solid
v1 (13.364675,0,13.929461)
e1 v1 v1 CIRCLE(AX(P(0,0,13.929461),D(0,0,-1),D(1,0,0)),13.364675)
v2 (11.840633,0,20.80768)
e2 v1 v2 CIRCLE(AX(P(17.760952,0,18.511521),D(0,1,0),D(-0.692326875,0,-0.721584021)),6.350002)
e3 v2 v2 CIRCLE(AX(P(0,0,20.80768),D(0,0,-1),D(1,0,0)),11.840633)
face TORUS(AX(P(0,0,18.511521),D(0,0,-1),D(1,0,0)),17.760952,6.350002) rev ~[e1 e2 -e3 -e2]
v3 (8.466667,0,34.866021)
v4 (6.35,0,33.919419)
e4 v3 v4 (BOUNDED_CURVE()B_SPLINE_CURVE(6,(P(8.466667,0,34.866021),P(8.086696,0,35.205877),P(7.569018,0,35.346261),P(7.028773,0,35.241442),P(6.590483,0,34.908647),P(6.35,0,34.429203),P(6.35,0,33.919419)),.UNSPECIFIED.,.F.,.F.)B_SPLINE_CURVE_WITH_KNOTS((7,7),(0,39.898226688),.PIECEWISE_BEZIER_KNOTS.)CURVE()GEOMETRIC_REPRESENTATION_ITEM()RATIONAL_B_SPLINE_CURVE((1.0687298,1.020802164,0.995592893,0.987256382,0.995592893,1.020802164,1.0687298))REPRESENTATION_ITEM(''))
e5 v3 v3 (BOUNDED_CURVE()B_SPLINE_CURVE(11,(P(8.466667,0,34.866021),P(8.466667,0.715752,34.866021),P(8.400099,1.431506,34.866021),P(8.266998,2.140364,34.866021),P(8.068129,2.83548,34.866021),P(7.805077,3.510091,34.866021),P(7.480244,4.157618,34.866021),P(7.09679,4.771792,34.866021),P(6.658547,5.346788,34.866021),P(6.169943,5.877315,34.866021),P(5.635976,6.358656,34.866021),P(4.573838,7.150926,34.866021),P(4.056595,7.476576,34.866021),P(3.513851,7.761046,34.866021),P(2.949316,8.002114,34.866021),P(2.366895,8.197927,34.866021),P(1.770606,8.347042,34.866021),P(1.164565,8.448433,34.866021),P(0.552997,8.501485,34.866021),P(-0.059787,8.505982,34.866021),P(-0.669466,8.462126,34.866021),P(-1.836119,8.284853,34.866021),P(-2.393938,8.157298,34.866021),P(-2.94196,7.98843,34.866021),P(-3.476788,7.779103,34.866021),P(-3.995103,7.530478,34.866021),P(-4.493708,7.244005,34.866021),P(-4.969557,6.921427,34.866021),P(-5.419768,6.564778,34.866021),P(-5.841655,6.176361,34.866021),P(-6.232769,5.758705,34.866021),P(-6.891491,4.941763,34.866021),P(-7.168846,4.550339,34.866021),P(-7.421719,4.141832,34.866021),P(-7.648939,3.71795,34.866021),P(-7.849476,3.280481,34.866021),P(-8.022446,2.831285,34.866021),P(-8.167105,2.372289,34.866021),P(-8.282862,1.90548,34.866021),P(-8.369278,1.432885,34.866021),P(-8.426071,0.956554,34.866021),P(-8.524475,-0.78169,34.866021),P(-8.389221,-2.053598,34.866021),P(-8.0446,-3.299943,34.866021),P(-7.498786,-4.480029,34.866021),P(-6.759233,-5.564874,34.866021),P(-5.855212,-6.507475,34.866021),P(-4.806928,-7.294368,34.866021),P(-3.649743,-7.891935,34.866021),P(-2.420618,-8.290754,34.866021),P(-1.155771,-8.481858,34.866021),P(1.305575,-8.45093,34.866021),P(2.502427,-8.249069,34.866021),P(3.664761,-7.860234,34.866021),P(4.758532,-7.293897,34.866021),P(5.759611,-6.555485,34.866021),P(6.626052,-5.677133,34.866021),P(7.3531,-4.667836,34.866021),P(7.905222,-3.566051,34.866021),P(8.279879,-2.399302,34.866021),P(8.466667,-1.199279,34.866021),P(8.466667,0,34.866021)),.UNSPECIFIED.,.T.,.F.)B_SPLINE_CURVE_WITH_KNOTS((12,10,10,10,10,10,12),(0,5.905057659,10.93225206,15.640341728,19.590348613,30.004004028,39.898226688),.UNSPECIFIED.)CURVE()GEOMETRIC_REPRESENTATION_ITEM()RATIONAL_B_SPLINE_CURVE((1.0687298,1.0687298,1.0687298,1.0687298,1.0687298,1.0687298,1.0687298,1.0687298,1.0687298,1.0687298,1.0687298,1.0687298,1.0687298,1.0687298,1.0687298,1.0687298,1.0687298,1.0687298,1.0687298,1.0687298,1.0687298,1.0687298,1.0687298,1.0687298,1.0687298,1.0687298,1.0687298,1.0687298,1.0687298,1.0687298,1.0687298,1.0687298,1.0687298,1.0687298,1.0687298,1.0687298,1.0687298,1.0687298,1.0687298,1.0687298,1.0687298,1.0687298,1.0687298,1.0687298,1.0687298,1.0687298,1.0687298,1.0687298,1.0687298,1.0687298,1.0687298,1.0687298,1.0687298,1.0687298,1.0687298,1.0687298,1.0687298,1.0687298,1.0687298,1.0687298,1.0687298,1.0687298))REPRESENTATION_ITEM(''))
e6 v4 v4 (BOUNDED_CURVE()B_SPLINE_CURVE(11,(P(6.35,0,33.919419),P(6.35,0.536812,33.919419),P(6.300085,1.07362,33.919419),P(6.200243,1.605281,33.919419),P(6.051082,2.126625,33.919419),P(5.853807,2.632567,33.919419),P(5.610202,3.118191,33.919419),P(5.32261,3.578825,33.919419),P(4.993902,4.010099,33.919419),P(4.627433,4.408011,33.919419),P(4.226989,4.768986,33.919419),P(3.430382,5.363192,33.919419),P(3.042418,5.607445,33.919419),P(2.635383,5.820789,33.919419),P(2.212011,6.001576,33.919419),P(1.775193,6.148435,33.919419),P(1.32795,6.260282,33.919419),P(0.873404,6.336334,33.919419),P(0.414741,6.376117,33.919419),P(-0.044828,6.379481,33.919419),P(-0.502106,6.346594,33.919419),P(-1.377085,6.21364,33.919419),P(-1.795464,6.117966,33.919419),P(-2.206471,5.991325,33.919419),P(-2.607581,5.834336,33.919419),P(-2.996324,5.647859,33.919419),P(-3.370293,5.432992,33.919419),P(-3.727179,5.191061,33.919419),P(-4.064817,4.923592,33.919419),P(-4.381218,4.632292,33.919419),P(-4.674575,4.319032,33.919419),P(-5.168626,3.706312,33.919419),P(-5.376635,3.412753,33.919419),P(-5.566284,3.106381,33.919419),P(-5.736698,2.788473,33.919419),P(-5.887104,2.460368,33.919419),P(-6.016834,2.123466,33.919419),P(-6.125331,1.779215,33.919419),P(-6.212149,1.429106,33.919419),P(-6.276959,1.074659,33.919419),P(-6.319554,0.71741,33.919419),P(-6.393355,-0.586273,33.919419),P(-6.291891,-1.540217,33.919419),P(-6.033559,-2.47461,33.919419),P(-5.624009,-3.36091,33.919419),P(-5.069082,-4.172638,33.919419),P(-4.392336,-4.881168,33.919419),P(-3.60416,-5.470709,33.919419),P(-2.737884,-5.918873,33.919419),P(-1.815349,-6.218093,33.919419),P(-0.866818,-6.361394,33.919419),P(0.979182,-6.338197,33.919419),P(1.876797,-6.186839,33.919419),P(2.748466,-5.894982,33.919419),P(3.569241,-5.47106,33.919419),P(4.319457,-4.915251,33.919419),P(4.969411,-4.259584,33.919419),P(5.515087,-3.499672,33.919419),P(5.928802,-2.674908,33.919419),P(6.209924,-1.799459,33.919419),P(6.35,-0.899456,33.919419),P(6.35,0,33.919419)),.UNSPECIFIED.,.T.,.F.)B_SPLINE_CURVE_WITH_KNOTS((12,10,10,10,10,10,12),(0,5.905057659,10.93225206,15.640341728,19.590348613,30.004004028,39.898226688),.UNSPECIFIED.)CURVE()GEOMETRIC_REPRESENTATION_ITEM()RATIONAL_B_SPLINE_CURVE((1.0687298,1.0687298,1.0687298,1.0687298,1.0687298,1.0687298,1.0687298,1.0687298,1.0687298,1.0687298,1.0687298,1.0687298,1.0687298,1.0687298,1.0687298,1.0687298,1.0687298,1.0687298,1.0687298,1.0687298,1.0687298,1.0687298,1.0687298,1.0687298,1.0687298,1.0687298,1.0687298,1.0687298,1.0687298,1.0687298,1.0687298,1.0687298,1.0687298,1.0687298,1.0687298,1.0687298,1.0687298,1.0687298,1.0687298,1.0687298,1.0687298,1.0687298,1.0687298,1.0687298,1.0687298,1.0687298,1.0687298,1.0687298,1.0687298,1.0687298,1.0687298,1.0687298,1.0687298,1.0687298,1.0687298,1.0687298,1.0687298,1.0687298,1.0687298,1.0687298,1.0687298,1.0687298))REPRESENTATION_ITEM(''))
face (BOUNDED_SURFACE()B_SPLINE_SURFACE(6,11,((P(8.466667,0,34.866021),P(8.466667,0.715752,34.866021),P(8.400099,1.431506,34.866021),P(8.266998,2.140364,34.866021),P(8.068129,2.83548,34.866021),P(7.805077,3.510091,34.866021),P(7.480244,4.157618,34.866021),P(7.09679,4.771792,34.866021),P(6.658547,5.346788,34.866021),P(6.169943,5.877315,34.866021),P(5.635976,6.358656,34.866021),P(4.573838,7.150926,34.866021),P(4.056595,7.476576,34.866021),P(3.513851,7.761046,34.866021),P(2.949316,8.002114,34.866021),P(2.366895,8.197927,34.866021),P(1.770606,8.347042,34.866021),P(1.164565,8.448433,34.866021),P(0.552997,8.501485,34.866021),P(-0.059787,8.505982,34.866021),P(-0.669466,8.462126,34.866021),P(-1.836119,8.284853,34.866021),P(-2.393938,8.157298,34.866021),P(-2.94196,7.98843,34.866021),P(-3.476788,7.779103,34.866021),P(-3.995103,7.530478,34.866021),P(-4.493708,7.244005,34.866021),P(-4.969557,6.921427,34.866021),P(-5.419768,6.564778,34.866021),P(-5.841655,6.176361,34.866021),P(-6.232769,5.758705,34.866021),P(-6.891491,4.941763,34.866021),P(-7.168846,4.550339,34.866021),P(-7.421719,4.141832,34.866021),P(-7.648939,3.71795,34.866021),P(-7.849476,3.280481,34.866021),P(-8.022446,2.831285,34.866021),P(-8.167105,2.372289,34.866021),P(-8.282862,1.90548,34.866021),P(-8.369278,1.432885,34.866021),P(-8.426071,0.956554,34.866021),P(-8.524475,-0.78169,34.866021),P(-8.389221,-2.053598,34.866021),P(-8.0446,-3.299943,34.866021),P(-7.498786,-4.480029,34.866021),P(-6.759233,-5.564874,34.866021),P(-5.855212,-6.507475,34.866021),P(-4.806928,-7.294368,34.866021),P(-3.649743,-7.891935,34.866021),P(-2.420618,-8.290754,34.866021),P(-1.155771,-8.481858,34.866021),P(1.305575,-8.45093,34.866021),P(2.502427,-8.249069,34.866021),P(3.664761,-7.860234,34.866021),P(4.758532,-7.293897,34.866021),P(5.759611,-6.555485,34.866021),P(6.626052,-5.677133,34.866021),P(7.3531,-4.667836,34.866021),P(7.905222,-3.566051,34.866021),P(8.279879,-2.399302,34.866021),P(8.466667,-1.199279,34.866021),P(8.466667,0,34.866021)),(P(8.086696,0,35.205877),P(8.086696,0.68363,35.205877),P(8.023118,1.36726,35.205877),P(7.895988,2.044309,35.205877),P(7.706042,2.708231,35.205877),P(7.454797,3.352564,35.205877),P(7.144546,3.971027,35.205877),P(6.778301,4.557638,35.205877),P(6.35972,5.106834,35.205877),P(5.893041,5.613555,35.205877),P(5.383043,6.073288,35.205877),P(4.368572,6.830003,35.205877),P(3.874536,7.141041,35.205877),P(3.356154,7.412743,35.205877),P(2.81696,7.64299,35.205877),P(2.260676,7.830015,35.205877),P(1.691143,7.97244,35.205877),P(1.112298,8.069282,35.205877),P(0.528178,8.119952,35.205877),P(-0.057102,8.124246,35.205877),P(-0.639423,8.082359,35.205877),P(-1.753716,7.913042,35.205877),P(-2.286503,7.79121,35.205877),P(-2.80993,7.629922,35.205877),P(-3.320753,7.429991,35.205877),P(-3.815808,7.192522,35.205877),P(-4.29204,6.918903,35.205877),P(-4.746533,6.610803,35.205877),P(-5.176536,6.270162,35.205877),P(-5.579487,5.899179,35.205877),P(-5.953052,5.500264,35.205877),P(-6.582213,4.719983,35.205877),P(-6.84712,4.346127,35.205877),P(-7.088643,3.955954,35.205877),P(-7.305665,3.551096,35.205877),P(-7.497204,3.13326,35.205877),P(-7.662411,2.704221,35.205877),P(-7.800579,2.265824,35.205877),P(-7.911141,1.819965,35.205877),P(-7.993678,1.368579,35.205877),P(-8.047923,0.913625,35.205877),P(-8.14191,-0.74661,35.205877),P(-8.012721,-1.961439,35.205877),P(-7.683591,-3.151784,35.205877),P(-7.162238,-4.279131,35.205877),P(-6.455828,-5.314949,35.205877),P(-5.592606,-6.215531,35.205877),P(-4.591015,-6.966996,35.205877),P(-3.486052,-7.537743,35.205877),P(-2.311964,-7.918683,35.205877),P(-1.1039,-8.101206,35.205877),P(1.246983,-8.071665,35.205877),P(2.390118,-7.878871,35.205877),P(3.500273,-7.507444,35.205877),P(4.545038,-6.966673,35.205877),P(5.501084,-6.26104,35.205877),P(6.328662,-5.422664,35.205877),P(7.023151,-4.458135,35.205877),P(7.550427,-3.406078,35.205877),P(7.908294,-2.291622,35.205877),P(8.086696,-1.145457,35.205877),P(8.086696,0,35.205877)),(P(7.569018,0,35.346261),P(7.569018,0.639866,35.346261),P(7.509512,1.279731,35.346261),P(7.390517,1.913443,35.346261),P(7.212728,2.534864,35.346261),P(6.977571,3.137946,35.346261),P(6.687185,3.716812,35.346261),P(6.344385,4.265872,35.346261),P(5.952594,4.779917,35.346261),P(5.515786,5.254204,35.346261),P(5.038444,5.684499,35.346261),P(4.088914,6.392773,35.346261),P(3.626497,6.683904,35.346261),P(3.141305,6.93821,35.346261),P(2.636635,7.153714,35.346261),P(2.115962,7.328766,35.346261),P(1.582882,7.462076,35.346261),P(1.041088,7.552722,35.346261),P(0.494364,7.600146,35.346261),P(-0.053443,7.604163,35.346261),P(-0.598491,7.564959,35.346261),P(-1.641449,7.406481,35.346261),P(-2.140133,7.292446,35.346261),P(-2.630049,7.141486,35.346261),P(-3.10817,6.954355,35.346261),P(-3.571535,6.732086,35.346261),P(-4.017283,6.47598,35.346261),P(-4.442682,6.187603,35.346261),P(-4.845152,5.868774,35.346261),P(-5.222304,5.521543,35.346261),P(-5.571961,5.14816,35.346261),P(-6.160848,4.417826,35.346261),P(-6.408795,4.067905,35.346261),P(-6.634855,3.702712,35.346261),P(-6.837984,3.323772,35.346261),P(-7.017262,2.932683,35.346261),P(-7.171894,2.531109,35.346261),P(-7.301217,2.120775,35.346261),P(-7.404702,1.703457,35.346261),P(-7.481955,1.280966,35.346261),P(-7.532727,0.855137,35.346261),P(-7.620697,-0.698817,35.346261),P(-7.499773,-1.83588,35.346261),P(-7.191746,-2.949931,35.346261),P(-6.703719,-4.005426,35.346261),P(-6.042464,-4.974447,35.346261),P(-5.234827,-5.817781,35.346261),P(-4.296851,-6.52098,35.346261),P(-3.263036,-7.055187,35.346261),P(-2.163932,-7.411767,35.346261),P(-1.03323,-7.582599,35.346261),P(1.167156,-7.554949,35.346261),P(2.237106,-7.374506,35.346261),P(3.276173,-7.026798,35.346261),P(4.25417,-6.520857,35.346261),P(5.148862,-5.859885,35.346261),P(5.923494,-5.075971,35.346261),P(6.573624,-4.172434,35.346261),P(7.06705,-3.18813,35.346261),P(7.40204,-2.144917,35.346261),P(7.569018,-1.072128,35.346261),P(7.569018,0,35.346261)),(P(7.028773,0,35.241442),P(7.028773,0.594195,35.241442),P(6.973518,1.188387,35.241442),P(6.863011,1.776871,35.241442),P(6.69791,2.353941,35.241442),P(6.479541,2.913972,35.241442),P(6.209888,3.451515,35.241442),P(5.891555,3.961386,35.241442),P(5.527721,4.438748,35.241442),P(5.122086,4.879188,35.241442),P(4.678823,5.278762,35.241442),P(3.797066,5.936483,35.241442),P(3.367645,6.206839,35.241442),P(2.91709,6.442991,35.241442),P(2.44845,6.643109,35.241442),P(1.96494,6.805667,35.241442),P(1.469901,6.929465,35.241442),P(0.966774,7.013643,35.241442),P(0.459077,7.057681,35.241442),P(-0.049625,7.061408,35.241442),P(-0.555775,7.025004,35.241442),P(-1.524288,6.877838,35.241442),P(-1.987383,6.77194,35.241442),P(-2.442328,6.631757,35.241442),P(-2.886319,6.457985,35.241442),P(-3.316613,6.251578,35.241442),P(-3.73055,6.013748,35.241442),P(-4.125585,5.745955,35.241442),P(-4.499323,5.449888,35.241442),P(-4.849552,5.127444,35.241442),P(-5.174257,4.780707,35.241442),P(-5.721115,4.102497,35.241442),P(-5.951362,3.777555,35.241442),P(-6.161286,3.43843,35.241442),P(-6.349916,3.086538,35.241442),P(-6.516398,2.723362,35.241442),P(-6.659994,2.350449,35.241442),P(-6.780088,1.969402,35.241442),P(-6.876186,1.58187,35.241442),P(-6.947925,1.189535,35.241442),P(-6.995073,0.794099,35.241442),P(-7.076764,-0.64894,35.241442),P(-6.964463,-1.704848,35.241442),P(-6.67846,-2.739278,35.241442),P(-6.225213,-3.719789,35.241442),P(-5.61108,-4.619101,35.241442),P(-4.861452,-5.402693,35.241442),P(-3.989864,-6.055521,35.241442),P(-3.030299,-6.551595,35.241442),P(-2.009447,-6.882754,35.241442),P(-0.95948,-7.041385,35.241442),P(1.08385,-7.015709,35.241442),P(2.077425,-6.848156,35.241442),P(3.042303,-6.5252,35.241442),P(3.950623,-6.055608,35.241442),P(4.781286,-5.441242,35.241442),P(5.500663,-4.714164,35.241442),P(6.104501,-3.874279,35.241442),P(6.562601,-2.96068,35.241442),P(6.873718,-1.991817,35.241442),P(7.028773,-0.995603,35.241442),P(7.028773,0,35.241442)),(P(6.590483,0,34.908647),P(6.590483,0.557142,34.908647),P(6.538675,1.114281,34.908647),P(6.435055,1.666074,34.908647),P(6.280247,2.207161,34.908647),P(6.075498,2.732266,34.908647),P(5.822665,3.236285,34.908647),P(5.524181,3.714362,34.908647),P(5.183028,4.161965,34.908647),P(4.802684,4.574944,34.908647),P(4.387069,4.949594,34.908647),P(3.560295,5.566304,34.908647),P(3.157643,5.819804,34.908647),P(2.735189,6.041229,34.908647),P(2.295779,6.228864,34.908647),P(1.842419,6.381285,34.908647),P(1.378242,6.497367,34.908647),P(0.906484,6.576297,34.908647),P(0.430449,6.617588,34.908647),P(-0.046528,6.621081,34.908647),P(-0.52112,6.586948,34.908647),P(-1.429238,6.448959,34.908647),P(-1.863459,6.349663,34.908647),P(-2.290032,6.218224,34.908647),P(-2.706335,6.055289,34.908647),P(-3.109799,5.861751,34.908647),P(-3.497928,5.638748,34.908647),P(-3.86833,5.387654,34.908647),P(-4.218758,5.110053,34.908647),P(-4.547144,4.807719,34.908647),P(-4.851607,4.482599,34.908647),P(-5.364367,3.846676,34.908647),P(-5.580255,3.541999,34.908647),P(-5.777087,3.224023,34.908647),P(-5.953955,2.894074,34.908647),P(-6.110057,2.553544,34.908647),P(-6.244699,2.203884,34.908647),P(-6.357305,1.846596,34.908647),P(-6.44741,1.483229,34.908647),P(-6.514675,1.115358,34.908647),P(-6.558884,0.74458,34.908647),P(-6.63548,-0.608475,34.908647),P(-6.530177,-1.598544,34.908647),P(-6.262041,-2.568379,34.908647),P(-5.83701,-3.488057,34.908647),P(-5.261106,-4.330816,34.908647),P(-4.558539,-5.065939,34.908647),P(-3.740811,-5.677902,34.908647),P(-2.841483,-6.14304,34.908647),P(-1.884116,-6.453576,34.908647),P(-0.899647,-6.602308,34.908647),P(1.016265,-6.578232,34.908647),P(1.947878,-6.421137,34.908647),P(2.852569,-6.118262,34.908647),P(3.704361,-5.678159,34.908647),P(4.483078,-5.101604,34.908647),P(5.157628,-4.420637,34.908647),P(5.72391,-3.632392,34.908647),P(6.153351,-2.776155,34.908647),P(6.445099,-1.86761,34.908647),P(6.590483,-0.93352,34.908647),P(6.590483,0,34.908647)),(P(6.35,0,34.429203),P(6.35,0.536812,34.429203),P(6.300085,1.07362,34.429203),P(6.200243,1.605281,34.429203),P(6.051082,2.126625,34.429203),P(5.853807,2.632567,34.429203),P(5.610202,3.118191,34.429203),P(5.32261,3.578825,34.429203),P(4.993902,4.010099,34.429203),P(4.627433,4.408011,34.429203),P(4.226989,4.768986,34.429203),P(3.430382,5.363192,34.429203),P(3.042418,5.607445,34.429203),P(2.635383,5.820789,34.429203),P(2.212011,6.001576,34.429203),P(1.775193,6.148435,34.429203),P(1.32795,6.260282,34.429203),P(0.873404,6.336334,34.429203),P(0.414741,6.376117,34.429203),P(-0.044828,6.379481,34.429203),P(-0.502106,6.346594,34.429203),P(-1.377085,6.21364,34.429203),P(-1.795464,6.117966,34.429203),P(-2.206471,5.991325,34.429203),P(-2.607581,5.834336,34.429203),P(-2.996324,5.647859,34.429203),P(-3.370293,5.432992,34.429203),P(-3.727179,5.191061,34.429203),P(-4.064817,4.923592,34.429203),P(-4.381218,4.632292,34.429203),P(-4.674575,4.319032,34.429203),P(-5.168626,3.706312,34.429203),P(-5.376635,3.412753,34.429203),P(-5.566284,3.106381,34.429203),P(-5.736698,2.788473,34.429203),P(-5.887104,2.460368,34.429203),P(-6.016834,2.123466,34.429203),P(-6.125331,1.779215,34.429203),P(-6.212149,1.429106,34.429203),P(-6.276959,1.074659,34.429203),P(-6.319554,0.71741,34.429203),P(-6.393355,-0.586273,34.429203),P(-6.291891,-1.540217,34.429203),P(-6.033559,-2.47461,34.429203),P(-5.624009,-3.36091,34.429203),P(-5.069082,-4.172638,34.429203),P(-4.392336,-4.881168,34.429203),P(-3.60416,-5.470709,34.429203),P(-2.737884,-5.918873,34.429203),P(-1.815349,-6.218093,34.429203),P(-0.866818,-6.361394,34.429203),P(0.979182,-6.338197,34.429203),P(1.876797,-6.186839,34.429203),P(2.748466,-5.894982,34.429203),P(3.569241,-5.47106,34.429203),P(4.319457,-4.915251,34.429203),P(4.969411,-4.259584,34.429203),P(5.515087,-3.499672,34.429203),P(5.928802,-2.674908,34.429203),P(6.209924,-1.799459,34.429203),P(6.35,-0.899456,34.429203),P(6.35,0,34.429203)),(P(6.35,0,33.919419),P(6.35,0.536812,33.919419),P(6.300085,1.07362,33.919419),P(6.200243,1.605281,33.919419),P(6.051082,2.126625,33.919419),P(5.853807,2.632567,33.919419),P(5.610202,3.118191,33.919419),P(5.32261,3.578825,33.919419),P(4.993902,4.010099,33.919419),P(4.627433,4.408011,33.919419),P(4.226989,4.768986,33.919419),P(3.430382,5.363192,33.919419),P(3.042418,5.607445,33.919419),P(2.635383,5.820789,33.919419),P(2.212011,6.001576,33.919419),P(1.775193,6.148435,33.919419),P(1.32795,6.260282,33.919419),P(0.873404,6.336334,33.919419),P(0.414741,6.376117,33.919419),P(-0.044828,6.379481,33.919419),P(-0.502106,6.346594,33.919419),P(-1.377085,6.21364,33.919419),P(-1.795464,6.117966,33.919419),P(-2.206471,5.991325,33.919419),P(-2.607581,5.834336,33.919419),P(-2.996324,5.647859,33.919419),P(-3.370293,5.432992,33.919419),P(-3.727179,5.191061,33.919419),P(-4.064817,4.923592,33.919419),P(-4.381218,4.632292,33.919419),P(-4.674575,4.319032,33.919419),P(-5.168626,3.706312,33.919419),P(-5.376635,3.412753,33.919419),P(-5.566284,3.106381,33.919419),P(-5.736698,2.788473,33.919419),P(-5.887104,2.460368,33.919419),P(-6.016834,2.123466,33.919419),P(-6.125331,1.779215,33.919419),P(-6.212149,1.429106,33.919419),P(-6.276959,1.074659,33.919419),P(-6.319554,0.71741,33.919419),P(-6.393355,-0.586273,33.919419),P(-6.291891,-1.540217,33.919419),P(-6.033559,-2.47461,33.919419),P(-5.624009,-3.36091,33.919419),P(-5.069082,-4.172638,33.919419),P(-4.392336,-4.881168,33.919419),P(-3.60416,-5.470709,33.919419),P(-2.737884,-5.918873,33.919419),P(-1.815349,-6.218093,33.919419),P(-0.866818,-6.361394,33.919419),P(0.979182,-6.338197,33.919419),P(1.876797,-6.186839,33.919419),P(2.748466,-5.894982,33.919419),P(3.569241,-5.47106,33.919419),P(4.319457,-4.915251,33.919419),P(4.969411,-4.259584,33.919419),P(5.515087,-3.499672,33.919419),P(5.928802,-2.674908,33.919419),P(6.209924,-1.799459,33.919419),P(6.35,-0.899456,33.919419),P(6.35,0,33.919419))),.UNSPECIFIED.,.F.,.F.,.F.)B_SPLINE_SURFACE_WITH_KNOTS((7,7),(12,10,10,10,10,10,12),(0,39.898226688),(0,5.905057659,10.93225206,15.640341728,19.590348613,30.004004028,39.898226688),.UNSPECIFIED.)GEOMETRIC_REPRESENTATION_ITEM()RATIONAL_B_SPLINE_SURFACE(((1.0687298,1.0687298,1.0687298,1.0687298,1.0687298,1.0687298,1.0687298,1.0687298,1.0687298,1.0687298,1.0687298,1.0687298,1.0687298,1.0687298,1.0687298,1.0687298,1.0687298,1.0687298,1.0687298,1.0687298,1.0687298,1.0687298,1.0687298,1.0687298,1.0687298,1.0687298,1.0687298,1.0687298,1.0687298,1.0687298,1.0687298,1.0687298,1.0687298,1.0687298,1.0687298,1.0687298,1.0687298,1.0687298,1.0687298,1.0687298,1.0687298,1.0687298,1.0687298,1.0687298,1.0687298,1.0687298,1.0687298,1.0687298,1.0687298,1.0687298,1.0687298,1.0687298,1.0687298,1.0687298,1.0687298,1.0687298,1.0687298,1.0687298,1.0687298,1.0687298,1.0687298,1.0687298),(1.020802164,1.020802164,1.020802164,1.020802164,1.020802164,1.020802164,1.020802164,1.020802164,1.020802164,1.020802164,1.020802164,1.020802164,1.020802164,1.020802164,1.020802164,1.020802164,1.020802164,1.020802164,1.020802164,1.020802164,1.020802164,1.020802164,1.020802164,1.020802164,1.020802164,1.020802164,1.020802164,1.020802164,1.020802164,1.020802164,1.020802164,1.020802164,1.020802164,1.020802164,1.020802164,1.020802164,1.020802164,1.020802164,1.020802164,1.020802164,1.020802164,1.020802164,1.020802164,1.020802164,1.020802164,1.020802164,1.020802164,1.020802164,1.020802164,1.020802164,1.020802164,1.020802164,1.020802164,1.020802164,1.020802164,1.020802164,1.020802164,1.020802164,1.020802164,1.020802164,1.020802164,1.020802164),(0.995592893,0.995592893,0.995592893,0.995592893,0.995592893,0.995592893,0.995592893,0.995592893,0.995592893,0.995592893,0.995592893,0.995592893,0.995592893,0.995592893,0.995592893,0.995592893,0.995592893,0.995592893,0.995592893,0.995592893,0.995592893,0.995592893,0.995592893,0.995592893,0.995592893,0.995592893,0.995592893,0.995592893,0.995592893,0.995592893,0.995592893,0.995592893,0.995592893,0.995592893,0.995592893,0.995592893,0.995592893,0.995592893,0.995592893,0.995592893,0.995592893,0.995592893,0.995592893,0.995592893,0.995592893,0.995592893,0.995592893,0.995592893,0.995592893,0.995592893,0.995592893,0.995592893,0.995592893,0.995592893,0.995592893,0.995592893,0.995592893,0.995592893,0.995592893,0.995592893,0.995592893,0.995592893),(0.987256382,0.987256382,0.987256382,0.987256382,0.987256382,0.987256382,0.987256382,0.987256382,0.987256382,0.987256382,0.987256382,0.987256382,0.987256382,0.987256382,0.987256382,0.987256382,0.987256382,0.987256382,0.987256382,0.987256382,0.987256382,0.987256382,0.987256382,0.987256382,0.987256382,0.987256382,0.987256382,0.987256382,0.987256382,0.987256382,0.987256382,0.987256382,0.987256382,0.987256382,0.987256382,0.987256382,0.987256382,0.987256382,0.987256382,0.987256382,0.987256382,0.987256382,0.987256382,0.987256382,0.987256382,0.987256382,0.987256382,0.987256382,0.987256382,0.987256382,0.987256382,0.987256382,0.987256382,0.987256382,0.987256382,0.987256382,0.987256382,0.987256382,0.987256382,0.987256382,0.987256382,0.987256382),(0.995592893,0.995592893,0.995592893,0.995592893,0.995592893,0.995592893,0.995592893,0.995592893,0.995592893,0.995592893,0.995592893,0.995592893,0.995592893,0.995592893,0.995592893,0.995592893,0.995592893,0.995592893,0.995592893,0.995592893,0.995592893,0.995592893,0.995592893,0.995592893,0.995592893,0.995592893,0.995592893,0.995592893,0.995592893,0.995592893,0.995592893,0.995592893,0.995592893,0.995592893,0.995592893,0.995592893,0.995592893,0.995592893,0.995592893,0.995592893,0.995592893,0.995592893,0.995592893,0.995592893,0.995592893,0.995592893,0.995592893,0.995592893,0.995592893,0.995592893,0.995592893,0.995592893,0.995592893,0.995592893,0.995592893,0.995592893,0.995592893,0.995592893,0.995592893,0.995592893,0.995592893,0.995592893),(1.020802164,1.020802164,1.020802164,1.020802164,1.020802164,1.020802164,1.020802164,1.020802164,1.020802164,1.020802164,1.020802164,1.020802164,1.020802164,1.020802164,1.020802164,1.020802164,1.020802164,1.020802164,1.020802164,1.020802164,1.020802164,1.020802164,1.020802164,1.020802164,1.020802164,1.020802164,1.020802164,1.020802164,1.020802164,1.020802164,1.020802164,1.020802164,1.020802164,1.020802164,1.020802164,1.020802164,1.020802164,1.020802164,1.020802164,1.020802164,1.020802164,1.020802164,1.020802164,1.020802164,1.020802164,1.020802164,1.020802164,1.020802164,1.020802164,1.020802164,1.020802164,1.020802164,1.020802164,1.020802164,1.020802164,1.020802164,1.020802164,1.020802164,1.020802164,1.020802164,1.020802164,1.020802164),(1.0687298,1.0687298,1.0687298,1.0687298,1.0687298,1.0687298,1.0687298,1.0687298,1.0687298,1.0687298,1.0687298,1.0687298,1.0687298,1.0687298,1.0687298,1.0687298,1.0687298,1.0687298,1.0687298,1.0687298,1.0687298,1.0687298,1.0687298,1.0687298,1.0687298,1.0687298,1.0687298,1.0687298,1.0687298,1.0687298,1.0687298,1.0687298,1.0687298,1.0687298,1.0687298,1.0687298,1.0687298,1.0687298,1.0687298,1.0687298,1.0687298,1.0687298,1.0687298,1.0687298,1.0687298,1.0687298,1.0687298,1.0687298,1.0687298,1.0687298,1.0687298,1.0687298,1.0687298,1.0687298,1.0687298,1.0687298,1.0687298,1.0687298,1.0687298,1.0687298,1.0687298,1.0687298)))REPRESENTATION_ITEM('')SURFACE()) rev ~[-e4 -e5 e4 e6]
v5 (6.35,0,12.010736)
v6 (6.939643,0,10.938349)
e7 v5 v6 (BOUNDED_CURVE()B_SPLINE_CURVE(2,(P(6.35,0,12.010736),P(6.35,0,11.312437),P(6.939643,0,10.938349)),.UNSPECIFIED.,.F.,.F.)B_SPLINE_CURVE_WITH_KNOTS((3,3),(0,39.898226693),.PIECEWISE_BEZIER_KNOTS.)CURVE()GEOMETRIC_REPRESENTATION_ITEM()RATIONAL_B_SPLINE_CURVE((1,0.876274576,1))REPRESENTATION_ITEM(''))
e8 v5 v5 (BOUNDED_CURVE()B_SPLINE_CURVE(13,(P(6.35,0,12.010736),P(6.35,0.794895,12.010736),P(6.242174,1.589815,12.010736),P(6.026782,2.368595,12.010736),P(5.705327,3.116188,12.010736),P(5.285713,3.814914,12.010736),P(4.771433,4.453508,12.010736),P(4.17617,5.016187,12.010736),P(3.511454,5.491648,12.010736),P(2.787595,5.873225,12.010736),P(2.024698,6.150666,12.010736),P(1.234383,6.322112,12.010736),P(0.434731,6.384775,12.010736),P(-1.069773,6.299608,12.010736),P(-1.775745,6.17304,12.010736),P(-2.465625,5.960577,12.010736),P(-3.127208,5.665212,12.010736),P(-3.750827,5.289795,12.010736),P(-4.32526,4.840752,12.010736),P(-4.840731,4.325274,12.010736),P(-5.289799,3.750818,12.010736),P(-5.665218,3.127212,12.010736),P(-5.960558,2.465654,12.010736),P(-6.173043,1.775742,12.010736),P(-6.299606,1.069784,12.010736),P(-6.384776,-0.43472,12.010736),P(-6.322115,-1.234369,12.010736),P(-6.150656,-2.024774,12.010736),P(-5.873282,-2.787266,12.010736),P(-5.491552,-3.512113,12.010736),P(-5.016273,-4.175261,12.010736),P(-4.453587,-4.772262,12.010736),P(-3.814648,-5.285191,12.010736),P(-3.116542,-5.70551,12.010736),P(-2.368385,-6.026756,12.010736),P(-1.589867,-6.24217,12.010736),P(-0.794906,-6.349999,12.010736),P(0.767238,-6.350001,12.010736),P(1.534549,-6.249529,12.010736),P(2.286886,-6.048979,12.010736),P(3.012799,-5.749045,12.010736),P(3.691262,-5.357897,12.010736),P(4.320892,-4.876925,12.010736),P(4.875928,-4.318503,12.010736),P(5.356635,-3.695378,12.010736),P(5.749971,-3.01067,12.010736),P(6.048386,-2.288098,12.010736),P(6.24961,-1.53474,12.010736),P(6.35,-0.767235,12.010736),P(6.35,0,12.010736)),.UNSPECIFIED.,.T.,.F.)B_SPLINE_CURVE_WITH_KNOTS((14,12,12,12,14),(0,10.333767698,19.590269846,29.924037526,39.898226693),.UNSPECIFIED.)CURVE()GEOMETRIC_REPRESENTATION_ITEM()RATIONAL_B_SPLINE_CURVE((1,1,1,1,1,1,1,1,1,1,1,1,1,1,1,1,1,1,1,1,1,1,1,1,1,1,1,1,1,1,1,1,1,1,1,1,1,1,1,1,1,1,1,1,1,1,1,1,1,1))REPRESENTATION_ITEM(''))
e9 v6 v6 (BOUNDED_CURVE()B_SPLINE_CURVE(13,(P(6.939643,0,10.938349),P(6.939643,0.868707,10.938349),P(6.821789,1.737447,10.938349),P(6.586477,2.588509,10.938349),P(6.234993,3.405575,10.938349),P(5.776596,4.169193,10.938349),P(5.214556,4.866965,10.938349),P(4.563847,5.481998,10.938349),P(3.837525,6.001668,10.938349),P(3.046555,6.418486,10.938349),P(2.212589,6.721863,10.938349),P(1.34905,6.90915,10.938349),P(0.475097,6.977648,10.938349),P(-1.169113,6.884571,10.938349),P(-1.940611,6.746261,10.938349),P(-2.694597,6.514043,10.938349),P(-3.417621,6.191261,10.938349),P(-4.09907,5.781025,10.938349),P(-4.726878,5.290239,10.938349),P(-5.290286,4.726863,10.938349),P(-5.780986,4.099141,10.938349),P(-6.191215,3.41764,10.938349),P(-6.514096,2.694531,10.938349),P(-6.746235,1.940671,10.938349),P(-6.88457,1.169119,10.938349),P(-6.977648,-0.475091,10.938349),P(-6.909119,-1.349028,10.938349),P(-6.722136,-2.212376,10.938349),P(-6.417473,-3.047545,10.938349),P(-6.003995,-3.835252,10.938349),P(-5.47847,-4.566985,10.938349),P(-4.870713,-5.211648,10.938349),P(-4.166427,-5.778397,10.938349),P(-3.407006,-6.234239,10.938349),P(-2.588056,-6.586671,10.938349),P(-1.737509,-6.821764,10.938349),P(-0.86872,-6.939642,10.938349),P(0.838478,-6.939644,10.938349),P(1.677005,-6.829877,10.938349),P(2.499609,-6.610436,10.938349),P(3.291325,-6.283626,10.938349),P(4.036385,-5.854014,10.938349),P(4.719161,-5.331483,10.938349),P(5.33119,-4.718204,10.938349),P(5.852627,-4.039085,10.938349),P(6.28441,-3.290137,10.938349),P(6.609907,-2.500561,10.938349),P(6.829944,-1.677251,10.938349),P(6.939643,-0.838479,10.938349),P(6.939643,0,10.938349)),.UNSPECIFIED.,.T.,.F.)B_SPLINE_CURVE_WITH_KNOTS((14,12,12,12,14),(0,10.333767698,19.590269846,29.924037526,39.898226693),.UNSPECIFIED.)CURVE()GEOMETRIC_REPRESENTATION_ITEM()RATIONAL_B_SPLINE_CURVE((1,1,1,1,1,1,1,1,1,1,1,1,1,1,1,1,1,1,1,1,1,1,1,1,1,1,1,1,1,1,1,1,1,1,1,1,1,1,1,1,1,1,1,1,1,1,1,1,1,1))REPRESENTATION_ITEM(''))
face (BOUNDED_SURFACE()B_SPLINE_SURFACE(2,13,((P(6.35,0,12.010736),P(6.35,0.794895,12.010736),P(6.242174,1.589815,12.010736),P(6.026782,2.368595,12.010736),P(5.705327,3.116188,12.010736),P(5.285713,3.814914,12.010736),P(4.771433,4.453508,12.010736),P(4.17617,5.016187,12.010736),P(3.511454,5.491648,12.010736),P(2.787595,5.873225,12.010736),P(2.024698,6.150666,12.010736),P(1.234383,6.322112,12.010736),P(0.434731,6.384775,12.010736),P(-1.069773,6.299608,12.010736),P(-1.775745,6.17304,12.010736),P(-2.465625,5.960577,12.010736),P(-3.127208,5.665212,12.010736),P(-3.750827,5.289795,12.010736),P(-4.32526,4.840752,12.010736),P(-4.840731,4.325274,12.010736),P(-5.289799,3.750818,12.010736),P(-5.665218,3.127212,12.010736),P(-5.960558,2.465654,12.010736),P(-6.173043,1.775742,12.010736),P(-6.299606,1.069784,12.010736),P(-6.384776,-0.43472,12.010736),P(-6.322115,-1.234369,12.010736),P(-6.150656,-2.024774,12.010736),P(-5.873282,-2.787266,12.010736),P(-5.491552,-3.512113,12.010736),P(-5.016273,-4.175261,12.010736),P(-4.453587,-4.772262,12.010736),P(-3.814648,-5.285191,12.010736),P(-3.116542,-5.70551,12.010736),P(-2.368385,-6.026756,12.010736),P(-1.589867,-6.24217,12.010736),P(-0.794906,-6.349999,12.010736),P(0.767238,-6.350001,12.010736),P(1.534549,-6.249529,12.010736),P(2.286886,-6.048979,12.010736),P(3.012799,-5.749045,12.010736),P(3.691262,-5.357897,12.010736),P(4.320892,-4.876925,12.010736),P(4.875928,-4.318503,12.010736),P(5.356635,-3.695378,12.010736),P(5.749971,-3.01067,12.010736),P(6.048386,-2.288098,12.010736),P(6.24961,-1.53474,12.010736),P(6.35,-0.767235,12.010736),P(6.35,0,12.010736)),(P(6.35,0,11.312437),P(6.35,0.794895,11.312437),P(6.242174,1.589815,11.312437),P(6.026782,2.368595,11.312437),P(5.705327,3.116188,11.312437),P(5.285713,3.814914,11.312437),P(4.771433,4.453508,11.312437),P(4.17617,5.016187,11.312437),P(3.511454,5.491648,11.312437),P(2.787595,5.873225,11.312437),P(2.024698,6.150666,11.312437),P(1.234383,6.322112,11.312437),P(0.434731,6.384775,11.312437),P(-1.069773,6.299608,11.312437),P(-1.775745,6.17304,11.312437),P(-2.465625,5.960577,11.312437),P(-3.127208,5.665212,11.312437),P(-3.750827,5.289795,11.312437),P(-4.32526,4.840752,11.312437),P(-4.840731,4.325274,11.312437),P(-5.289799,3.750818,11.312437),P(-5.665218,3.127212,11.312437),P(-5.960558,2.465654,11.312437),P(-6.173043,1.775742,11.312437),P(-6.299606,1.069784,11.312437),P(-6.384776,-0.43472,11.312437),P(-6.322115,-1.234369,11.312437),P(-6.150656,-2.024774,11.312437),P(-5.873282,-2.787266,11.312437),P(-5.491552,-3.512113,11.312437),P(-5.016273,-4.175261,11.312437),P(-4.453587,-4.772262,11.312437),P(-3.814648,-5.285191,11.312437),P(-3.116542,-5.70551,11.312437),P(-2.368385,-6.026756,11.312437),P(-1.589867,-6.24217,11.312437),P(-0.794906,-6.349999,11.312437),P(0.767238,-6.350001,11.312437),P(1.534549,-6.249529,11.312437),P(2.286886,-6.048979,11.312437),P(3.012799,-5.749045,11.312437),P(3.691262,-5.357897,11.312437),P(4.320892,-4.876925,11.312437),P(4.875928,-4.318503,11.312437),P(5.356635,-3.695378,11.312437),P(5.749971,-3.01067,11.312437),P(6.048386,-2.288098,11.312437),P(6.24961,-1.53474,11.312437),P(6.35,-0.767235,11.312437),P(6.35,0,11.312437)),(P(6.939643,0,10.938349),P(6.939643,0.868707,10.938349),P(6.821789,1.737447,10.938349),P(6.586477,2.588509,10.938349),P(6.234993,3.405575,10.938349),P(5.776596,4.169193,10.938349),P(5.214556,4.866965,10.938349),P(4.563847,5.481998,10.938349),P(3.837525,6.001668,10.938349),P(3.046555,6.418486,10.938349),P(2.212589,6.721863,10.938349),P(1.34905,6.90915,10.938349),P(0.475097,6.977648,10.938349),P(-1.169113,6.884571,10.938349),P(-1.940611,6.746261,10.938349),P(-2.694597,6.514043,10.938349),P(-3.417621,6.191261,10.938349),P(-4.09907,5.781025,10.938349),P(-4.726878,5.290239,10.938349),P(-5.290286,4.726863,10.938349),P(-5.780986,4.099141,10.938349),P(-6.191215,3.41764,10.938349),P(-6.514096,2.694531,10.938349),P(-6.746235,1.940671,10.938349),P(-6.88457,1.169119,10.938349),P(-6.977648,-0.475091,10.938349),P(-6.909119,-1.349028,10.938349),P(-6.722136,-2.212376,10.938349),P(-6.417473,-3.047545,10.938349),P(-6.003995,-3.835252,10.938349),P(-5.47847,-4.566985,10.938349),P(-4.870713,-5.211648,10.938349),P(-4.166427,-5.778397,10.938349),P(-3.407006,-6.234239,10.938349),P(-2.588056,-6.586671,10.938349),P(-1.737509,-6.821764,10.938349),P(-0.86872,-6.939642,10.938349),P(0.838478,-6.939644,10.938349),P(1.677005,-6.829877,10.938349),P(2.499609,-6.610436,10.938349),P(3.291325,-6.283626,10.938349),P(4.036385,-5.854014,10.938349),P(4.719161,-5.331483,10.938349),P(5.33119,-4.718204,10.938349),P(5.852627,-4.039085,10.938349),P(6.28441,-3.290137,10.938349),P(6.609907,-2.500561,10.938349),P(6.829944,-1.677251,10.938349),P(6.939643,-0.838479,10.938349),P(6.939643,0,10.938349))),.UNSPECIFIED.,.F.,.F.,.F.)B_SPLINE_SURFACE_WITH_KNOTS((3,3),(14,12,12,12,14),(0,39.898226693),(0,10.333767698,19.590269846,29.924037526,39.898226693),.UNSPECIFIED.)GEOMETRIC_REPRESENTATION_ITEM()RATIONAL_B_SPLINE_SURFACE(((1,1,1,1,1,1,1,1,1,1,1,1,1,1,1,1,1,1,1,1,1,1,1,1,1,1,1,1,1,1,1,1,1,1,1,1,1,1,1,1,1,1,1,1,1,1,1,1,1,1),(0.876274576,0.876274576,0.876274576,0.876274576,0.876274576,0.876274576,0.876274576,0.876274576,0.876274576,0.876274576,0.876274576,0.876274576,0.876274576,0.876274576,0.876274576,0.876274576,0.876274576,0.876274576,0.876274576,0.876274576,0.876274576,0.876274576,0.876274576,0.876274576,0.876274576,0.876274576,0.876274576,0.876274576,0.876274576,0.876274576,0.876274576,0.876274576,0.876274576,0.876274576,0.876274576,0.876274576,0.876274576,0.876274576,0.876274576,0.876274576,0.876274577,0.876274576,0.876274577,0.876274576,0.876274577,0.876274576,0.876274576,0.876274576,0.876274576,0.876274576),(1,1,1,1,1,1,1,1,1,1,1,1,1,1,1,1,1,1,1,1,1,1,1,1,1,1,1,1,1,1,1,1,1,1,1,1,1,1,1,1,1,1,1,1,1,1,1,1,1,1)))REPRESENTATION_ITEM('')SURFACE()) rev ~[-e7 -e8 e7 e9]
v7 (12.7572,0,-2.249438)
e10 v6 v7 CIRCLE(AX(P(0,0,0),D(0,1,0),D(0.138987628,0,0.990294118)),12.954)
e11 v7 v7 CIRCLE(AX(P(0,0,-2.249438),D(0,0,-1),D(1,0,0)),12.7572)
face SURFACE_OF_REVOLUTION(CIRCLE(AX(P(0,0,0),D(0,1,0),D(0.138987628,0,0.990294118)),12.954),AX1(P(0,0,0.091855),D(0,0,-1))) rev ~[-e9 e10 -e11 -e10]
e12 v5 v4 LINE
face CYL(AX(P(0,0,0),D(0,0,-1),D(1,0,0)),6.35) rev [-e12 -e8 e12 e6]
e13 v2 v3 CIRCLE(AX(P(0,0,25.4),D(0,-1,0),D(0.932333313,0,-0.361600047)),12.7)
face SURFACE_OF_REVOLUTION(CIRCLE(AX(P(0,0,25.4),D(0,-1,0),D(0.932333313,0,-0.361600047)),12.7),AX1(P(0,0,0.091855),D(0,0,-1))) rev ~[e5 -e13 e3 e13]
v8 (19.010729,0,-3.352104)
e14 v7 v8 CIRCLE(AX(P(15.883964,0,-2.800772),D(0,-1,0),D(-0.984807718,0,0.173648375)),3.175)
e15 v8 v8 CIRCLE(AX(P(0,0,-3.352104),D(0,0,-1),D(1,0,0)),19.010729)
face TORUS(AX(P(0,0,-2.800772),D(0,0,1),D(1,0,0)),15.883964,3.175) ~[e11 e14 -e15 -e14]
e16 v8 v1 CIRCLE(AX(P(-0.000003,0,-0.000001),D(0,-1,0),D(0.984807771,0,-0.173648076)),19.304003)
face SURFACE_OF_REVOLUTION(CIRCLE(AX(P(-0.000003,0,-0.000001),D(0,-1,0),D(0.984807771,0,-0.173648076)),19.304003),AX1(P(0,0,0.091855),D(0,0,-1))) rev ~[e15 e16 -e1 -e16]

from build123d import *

# Parameters (mm, degrees)
F2_R     = 6.35
F3_DEPTH = 38.101
F4_R     = 1.27


with BuildPart() as f1:
    # F0 (on Front) → F1 (revolve)
    with BuildSketch(Plane.XZ):
        with BuildLine():
            ThreePointArc((0, 19.304), (4.856384, 18.683146), (9.400387, 16.86052))
            ThreePointArc((9.400387, 16.86052), (10.802326, 18.721696), (11.840633, 20.80768))
            ThreePointArc((11.840633, 20.80768), (10.478847, 32.575219), (0, 38.1))
            Line((0, 38.1), (0, 19.304))
        make_face()
        with BuildLine():
            ThreePointArc((1.800446, 12.82827), (10.479293, 7.615152), (12.7572, -2.249438))
            ThreePointArc((12.7572, -2.249438), (15.332631, -5.927536), (19.010729, -3.352104))
            ThreePointArc((19.010729, -3.352104), (18.349518, 5.994964), (13.364675, 13.929461))
            ThreePointArc((13.364675, 13.929461), (11.476489, 15.522069), (9.400387, 16.86052))
            ThreePointArc((9.400387, 16.86052), (5.952262, 14.18124), (1.800446, 12.82827))
        make_face()
        with BuildLine():
            ThreePointArc((0, 12.954), (0.902415, 12.922529), (1.800446, 12.82827))
            ThreePointArc((1.800446, 12.82827), (5.952262, 14.18124), (9.400387, 16.86052))
            ThreePointArc((9.400387, 16.86052), (4.856384, 18.683146), (0, 19.304))
            Line((0, 19.304), (0, 12.954))
        make_face()
        with BuildLine():
            ThreePointArc((11.840633, 20.80768), (10.802326, 18.721696), (9.400387, 16.86052))
            ThreePointArc((9.400387, 16.86052), (11.476489, 15.522069), (13.364675, 13.929461))
            ThreePointArc((13.364675, 13.929461), (11.561314, 17.137835), (11.840633, 20.80768))
        make_face()
    revolve(axis=Axis((0, 0, 0.091855), (0, 0, -1)))

    # F2 (on Top) → F3 (cut, through all)
    with BuildSketch(Plane.XY):
        Circle(F2_R)
    extrude(amount=F3_DEPTH, mode=Mode.SUBTRACT)

    # F4
    f4_edges = [f1.edges().sort_by_distance(p)[0] for p in [
        (-6.35, 0, 36.398523),
        (-6.35, 0, 11.290864),
    ]]
    fillet(f4_edges, radius=F4_R)


solid = f1.part
